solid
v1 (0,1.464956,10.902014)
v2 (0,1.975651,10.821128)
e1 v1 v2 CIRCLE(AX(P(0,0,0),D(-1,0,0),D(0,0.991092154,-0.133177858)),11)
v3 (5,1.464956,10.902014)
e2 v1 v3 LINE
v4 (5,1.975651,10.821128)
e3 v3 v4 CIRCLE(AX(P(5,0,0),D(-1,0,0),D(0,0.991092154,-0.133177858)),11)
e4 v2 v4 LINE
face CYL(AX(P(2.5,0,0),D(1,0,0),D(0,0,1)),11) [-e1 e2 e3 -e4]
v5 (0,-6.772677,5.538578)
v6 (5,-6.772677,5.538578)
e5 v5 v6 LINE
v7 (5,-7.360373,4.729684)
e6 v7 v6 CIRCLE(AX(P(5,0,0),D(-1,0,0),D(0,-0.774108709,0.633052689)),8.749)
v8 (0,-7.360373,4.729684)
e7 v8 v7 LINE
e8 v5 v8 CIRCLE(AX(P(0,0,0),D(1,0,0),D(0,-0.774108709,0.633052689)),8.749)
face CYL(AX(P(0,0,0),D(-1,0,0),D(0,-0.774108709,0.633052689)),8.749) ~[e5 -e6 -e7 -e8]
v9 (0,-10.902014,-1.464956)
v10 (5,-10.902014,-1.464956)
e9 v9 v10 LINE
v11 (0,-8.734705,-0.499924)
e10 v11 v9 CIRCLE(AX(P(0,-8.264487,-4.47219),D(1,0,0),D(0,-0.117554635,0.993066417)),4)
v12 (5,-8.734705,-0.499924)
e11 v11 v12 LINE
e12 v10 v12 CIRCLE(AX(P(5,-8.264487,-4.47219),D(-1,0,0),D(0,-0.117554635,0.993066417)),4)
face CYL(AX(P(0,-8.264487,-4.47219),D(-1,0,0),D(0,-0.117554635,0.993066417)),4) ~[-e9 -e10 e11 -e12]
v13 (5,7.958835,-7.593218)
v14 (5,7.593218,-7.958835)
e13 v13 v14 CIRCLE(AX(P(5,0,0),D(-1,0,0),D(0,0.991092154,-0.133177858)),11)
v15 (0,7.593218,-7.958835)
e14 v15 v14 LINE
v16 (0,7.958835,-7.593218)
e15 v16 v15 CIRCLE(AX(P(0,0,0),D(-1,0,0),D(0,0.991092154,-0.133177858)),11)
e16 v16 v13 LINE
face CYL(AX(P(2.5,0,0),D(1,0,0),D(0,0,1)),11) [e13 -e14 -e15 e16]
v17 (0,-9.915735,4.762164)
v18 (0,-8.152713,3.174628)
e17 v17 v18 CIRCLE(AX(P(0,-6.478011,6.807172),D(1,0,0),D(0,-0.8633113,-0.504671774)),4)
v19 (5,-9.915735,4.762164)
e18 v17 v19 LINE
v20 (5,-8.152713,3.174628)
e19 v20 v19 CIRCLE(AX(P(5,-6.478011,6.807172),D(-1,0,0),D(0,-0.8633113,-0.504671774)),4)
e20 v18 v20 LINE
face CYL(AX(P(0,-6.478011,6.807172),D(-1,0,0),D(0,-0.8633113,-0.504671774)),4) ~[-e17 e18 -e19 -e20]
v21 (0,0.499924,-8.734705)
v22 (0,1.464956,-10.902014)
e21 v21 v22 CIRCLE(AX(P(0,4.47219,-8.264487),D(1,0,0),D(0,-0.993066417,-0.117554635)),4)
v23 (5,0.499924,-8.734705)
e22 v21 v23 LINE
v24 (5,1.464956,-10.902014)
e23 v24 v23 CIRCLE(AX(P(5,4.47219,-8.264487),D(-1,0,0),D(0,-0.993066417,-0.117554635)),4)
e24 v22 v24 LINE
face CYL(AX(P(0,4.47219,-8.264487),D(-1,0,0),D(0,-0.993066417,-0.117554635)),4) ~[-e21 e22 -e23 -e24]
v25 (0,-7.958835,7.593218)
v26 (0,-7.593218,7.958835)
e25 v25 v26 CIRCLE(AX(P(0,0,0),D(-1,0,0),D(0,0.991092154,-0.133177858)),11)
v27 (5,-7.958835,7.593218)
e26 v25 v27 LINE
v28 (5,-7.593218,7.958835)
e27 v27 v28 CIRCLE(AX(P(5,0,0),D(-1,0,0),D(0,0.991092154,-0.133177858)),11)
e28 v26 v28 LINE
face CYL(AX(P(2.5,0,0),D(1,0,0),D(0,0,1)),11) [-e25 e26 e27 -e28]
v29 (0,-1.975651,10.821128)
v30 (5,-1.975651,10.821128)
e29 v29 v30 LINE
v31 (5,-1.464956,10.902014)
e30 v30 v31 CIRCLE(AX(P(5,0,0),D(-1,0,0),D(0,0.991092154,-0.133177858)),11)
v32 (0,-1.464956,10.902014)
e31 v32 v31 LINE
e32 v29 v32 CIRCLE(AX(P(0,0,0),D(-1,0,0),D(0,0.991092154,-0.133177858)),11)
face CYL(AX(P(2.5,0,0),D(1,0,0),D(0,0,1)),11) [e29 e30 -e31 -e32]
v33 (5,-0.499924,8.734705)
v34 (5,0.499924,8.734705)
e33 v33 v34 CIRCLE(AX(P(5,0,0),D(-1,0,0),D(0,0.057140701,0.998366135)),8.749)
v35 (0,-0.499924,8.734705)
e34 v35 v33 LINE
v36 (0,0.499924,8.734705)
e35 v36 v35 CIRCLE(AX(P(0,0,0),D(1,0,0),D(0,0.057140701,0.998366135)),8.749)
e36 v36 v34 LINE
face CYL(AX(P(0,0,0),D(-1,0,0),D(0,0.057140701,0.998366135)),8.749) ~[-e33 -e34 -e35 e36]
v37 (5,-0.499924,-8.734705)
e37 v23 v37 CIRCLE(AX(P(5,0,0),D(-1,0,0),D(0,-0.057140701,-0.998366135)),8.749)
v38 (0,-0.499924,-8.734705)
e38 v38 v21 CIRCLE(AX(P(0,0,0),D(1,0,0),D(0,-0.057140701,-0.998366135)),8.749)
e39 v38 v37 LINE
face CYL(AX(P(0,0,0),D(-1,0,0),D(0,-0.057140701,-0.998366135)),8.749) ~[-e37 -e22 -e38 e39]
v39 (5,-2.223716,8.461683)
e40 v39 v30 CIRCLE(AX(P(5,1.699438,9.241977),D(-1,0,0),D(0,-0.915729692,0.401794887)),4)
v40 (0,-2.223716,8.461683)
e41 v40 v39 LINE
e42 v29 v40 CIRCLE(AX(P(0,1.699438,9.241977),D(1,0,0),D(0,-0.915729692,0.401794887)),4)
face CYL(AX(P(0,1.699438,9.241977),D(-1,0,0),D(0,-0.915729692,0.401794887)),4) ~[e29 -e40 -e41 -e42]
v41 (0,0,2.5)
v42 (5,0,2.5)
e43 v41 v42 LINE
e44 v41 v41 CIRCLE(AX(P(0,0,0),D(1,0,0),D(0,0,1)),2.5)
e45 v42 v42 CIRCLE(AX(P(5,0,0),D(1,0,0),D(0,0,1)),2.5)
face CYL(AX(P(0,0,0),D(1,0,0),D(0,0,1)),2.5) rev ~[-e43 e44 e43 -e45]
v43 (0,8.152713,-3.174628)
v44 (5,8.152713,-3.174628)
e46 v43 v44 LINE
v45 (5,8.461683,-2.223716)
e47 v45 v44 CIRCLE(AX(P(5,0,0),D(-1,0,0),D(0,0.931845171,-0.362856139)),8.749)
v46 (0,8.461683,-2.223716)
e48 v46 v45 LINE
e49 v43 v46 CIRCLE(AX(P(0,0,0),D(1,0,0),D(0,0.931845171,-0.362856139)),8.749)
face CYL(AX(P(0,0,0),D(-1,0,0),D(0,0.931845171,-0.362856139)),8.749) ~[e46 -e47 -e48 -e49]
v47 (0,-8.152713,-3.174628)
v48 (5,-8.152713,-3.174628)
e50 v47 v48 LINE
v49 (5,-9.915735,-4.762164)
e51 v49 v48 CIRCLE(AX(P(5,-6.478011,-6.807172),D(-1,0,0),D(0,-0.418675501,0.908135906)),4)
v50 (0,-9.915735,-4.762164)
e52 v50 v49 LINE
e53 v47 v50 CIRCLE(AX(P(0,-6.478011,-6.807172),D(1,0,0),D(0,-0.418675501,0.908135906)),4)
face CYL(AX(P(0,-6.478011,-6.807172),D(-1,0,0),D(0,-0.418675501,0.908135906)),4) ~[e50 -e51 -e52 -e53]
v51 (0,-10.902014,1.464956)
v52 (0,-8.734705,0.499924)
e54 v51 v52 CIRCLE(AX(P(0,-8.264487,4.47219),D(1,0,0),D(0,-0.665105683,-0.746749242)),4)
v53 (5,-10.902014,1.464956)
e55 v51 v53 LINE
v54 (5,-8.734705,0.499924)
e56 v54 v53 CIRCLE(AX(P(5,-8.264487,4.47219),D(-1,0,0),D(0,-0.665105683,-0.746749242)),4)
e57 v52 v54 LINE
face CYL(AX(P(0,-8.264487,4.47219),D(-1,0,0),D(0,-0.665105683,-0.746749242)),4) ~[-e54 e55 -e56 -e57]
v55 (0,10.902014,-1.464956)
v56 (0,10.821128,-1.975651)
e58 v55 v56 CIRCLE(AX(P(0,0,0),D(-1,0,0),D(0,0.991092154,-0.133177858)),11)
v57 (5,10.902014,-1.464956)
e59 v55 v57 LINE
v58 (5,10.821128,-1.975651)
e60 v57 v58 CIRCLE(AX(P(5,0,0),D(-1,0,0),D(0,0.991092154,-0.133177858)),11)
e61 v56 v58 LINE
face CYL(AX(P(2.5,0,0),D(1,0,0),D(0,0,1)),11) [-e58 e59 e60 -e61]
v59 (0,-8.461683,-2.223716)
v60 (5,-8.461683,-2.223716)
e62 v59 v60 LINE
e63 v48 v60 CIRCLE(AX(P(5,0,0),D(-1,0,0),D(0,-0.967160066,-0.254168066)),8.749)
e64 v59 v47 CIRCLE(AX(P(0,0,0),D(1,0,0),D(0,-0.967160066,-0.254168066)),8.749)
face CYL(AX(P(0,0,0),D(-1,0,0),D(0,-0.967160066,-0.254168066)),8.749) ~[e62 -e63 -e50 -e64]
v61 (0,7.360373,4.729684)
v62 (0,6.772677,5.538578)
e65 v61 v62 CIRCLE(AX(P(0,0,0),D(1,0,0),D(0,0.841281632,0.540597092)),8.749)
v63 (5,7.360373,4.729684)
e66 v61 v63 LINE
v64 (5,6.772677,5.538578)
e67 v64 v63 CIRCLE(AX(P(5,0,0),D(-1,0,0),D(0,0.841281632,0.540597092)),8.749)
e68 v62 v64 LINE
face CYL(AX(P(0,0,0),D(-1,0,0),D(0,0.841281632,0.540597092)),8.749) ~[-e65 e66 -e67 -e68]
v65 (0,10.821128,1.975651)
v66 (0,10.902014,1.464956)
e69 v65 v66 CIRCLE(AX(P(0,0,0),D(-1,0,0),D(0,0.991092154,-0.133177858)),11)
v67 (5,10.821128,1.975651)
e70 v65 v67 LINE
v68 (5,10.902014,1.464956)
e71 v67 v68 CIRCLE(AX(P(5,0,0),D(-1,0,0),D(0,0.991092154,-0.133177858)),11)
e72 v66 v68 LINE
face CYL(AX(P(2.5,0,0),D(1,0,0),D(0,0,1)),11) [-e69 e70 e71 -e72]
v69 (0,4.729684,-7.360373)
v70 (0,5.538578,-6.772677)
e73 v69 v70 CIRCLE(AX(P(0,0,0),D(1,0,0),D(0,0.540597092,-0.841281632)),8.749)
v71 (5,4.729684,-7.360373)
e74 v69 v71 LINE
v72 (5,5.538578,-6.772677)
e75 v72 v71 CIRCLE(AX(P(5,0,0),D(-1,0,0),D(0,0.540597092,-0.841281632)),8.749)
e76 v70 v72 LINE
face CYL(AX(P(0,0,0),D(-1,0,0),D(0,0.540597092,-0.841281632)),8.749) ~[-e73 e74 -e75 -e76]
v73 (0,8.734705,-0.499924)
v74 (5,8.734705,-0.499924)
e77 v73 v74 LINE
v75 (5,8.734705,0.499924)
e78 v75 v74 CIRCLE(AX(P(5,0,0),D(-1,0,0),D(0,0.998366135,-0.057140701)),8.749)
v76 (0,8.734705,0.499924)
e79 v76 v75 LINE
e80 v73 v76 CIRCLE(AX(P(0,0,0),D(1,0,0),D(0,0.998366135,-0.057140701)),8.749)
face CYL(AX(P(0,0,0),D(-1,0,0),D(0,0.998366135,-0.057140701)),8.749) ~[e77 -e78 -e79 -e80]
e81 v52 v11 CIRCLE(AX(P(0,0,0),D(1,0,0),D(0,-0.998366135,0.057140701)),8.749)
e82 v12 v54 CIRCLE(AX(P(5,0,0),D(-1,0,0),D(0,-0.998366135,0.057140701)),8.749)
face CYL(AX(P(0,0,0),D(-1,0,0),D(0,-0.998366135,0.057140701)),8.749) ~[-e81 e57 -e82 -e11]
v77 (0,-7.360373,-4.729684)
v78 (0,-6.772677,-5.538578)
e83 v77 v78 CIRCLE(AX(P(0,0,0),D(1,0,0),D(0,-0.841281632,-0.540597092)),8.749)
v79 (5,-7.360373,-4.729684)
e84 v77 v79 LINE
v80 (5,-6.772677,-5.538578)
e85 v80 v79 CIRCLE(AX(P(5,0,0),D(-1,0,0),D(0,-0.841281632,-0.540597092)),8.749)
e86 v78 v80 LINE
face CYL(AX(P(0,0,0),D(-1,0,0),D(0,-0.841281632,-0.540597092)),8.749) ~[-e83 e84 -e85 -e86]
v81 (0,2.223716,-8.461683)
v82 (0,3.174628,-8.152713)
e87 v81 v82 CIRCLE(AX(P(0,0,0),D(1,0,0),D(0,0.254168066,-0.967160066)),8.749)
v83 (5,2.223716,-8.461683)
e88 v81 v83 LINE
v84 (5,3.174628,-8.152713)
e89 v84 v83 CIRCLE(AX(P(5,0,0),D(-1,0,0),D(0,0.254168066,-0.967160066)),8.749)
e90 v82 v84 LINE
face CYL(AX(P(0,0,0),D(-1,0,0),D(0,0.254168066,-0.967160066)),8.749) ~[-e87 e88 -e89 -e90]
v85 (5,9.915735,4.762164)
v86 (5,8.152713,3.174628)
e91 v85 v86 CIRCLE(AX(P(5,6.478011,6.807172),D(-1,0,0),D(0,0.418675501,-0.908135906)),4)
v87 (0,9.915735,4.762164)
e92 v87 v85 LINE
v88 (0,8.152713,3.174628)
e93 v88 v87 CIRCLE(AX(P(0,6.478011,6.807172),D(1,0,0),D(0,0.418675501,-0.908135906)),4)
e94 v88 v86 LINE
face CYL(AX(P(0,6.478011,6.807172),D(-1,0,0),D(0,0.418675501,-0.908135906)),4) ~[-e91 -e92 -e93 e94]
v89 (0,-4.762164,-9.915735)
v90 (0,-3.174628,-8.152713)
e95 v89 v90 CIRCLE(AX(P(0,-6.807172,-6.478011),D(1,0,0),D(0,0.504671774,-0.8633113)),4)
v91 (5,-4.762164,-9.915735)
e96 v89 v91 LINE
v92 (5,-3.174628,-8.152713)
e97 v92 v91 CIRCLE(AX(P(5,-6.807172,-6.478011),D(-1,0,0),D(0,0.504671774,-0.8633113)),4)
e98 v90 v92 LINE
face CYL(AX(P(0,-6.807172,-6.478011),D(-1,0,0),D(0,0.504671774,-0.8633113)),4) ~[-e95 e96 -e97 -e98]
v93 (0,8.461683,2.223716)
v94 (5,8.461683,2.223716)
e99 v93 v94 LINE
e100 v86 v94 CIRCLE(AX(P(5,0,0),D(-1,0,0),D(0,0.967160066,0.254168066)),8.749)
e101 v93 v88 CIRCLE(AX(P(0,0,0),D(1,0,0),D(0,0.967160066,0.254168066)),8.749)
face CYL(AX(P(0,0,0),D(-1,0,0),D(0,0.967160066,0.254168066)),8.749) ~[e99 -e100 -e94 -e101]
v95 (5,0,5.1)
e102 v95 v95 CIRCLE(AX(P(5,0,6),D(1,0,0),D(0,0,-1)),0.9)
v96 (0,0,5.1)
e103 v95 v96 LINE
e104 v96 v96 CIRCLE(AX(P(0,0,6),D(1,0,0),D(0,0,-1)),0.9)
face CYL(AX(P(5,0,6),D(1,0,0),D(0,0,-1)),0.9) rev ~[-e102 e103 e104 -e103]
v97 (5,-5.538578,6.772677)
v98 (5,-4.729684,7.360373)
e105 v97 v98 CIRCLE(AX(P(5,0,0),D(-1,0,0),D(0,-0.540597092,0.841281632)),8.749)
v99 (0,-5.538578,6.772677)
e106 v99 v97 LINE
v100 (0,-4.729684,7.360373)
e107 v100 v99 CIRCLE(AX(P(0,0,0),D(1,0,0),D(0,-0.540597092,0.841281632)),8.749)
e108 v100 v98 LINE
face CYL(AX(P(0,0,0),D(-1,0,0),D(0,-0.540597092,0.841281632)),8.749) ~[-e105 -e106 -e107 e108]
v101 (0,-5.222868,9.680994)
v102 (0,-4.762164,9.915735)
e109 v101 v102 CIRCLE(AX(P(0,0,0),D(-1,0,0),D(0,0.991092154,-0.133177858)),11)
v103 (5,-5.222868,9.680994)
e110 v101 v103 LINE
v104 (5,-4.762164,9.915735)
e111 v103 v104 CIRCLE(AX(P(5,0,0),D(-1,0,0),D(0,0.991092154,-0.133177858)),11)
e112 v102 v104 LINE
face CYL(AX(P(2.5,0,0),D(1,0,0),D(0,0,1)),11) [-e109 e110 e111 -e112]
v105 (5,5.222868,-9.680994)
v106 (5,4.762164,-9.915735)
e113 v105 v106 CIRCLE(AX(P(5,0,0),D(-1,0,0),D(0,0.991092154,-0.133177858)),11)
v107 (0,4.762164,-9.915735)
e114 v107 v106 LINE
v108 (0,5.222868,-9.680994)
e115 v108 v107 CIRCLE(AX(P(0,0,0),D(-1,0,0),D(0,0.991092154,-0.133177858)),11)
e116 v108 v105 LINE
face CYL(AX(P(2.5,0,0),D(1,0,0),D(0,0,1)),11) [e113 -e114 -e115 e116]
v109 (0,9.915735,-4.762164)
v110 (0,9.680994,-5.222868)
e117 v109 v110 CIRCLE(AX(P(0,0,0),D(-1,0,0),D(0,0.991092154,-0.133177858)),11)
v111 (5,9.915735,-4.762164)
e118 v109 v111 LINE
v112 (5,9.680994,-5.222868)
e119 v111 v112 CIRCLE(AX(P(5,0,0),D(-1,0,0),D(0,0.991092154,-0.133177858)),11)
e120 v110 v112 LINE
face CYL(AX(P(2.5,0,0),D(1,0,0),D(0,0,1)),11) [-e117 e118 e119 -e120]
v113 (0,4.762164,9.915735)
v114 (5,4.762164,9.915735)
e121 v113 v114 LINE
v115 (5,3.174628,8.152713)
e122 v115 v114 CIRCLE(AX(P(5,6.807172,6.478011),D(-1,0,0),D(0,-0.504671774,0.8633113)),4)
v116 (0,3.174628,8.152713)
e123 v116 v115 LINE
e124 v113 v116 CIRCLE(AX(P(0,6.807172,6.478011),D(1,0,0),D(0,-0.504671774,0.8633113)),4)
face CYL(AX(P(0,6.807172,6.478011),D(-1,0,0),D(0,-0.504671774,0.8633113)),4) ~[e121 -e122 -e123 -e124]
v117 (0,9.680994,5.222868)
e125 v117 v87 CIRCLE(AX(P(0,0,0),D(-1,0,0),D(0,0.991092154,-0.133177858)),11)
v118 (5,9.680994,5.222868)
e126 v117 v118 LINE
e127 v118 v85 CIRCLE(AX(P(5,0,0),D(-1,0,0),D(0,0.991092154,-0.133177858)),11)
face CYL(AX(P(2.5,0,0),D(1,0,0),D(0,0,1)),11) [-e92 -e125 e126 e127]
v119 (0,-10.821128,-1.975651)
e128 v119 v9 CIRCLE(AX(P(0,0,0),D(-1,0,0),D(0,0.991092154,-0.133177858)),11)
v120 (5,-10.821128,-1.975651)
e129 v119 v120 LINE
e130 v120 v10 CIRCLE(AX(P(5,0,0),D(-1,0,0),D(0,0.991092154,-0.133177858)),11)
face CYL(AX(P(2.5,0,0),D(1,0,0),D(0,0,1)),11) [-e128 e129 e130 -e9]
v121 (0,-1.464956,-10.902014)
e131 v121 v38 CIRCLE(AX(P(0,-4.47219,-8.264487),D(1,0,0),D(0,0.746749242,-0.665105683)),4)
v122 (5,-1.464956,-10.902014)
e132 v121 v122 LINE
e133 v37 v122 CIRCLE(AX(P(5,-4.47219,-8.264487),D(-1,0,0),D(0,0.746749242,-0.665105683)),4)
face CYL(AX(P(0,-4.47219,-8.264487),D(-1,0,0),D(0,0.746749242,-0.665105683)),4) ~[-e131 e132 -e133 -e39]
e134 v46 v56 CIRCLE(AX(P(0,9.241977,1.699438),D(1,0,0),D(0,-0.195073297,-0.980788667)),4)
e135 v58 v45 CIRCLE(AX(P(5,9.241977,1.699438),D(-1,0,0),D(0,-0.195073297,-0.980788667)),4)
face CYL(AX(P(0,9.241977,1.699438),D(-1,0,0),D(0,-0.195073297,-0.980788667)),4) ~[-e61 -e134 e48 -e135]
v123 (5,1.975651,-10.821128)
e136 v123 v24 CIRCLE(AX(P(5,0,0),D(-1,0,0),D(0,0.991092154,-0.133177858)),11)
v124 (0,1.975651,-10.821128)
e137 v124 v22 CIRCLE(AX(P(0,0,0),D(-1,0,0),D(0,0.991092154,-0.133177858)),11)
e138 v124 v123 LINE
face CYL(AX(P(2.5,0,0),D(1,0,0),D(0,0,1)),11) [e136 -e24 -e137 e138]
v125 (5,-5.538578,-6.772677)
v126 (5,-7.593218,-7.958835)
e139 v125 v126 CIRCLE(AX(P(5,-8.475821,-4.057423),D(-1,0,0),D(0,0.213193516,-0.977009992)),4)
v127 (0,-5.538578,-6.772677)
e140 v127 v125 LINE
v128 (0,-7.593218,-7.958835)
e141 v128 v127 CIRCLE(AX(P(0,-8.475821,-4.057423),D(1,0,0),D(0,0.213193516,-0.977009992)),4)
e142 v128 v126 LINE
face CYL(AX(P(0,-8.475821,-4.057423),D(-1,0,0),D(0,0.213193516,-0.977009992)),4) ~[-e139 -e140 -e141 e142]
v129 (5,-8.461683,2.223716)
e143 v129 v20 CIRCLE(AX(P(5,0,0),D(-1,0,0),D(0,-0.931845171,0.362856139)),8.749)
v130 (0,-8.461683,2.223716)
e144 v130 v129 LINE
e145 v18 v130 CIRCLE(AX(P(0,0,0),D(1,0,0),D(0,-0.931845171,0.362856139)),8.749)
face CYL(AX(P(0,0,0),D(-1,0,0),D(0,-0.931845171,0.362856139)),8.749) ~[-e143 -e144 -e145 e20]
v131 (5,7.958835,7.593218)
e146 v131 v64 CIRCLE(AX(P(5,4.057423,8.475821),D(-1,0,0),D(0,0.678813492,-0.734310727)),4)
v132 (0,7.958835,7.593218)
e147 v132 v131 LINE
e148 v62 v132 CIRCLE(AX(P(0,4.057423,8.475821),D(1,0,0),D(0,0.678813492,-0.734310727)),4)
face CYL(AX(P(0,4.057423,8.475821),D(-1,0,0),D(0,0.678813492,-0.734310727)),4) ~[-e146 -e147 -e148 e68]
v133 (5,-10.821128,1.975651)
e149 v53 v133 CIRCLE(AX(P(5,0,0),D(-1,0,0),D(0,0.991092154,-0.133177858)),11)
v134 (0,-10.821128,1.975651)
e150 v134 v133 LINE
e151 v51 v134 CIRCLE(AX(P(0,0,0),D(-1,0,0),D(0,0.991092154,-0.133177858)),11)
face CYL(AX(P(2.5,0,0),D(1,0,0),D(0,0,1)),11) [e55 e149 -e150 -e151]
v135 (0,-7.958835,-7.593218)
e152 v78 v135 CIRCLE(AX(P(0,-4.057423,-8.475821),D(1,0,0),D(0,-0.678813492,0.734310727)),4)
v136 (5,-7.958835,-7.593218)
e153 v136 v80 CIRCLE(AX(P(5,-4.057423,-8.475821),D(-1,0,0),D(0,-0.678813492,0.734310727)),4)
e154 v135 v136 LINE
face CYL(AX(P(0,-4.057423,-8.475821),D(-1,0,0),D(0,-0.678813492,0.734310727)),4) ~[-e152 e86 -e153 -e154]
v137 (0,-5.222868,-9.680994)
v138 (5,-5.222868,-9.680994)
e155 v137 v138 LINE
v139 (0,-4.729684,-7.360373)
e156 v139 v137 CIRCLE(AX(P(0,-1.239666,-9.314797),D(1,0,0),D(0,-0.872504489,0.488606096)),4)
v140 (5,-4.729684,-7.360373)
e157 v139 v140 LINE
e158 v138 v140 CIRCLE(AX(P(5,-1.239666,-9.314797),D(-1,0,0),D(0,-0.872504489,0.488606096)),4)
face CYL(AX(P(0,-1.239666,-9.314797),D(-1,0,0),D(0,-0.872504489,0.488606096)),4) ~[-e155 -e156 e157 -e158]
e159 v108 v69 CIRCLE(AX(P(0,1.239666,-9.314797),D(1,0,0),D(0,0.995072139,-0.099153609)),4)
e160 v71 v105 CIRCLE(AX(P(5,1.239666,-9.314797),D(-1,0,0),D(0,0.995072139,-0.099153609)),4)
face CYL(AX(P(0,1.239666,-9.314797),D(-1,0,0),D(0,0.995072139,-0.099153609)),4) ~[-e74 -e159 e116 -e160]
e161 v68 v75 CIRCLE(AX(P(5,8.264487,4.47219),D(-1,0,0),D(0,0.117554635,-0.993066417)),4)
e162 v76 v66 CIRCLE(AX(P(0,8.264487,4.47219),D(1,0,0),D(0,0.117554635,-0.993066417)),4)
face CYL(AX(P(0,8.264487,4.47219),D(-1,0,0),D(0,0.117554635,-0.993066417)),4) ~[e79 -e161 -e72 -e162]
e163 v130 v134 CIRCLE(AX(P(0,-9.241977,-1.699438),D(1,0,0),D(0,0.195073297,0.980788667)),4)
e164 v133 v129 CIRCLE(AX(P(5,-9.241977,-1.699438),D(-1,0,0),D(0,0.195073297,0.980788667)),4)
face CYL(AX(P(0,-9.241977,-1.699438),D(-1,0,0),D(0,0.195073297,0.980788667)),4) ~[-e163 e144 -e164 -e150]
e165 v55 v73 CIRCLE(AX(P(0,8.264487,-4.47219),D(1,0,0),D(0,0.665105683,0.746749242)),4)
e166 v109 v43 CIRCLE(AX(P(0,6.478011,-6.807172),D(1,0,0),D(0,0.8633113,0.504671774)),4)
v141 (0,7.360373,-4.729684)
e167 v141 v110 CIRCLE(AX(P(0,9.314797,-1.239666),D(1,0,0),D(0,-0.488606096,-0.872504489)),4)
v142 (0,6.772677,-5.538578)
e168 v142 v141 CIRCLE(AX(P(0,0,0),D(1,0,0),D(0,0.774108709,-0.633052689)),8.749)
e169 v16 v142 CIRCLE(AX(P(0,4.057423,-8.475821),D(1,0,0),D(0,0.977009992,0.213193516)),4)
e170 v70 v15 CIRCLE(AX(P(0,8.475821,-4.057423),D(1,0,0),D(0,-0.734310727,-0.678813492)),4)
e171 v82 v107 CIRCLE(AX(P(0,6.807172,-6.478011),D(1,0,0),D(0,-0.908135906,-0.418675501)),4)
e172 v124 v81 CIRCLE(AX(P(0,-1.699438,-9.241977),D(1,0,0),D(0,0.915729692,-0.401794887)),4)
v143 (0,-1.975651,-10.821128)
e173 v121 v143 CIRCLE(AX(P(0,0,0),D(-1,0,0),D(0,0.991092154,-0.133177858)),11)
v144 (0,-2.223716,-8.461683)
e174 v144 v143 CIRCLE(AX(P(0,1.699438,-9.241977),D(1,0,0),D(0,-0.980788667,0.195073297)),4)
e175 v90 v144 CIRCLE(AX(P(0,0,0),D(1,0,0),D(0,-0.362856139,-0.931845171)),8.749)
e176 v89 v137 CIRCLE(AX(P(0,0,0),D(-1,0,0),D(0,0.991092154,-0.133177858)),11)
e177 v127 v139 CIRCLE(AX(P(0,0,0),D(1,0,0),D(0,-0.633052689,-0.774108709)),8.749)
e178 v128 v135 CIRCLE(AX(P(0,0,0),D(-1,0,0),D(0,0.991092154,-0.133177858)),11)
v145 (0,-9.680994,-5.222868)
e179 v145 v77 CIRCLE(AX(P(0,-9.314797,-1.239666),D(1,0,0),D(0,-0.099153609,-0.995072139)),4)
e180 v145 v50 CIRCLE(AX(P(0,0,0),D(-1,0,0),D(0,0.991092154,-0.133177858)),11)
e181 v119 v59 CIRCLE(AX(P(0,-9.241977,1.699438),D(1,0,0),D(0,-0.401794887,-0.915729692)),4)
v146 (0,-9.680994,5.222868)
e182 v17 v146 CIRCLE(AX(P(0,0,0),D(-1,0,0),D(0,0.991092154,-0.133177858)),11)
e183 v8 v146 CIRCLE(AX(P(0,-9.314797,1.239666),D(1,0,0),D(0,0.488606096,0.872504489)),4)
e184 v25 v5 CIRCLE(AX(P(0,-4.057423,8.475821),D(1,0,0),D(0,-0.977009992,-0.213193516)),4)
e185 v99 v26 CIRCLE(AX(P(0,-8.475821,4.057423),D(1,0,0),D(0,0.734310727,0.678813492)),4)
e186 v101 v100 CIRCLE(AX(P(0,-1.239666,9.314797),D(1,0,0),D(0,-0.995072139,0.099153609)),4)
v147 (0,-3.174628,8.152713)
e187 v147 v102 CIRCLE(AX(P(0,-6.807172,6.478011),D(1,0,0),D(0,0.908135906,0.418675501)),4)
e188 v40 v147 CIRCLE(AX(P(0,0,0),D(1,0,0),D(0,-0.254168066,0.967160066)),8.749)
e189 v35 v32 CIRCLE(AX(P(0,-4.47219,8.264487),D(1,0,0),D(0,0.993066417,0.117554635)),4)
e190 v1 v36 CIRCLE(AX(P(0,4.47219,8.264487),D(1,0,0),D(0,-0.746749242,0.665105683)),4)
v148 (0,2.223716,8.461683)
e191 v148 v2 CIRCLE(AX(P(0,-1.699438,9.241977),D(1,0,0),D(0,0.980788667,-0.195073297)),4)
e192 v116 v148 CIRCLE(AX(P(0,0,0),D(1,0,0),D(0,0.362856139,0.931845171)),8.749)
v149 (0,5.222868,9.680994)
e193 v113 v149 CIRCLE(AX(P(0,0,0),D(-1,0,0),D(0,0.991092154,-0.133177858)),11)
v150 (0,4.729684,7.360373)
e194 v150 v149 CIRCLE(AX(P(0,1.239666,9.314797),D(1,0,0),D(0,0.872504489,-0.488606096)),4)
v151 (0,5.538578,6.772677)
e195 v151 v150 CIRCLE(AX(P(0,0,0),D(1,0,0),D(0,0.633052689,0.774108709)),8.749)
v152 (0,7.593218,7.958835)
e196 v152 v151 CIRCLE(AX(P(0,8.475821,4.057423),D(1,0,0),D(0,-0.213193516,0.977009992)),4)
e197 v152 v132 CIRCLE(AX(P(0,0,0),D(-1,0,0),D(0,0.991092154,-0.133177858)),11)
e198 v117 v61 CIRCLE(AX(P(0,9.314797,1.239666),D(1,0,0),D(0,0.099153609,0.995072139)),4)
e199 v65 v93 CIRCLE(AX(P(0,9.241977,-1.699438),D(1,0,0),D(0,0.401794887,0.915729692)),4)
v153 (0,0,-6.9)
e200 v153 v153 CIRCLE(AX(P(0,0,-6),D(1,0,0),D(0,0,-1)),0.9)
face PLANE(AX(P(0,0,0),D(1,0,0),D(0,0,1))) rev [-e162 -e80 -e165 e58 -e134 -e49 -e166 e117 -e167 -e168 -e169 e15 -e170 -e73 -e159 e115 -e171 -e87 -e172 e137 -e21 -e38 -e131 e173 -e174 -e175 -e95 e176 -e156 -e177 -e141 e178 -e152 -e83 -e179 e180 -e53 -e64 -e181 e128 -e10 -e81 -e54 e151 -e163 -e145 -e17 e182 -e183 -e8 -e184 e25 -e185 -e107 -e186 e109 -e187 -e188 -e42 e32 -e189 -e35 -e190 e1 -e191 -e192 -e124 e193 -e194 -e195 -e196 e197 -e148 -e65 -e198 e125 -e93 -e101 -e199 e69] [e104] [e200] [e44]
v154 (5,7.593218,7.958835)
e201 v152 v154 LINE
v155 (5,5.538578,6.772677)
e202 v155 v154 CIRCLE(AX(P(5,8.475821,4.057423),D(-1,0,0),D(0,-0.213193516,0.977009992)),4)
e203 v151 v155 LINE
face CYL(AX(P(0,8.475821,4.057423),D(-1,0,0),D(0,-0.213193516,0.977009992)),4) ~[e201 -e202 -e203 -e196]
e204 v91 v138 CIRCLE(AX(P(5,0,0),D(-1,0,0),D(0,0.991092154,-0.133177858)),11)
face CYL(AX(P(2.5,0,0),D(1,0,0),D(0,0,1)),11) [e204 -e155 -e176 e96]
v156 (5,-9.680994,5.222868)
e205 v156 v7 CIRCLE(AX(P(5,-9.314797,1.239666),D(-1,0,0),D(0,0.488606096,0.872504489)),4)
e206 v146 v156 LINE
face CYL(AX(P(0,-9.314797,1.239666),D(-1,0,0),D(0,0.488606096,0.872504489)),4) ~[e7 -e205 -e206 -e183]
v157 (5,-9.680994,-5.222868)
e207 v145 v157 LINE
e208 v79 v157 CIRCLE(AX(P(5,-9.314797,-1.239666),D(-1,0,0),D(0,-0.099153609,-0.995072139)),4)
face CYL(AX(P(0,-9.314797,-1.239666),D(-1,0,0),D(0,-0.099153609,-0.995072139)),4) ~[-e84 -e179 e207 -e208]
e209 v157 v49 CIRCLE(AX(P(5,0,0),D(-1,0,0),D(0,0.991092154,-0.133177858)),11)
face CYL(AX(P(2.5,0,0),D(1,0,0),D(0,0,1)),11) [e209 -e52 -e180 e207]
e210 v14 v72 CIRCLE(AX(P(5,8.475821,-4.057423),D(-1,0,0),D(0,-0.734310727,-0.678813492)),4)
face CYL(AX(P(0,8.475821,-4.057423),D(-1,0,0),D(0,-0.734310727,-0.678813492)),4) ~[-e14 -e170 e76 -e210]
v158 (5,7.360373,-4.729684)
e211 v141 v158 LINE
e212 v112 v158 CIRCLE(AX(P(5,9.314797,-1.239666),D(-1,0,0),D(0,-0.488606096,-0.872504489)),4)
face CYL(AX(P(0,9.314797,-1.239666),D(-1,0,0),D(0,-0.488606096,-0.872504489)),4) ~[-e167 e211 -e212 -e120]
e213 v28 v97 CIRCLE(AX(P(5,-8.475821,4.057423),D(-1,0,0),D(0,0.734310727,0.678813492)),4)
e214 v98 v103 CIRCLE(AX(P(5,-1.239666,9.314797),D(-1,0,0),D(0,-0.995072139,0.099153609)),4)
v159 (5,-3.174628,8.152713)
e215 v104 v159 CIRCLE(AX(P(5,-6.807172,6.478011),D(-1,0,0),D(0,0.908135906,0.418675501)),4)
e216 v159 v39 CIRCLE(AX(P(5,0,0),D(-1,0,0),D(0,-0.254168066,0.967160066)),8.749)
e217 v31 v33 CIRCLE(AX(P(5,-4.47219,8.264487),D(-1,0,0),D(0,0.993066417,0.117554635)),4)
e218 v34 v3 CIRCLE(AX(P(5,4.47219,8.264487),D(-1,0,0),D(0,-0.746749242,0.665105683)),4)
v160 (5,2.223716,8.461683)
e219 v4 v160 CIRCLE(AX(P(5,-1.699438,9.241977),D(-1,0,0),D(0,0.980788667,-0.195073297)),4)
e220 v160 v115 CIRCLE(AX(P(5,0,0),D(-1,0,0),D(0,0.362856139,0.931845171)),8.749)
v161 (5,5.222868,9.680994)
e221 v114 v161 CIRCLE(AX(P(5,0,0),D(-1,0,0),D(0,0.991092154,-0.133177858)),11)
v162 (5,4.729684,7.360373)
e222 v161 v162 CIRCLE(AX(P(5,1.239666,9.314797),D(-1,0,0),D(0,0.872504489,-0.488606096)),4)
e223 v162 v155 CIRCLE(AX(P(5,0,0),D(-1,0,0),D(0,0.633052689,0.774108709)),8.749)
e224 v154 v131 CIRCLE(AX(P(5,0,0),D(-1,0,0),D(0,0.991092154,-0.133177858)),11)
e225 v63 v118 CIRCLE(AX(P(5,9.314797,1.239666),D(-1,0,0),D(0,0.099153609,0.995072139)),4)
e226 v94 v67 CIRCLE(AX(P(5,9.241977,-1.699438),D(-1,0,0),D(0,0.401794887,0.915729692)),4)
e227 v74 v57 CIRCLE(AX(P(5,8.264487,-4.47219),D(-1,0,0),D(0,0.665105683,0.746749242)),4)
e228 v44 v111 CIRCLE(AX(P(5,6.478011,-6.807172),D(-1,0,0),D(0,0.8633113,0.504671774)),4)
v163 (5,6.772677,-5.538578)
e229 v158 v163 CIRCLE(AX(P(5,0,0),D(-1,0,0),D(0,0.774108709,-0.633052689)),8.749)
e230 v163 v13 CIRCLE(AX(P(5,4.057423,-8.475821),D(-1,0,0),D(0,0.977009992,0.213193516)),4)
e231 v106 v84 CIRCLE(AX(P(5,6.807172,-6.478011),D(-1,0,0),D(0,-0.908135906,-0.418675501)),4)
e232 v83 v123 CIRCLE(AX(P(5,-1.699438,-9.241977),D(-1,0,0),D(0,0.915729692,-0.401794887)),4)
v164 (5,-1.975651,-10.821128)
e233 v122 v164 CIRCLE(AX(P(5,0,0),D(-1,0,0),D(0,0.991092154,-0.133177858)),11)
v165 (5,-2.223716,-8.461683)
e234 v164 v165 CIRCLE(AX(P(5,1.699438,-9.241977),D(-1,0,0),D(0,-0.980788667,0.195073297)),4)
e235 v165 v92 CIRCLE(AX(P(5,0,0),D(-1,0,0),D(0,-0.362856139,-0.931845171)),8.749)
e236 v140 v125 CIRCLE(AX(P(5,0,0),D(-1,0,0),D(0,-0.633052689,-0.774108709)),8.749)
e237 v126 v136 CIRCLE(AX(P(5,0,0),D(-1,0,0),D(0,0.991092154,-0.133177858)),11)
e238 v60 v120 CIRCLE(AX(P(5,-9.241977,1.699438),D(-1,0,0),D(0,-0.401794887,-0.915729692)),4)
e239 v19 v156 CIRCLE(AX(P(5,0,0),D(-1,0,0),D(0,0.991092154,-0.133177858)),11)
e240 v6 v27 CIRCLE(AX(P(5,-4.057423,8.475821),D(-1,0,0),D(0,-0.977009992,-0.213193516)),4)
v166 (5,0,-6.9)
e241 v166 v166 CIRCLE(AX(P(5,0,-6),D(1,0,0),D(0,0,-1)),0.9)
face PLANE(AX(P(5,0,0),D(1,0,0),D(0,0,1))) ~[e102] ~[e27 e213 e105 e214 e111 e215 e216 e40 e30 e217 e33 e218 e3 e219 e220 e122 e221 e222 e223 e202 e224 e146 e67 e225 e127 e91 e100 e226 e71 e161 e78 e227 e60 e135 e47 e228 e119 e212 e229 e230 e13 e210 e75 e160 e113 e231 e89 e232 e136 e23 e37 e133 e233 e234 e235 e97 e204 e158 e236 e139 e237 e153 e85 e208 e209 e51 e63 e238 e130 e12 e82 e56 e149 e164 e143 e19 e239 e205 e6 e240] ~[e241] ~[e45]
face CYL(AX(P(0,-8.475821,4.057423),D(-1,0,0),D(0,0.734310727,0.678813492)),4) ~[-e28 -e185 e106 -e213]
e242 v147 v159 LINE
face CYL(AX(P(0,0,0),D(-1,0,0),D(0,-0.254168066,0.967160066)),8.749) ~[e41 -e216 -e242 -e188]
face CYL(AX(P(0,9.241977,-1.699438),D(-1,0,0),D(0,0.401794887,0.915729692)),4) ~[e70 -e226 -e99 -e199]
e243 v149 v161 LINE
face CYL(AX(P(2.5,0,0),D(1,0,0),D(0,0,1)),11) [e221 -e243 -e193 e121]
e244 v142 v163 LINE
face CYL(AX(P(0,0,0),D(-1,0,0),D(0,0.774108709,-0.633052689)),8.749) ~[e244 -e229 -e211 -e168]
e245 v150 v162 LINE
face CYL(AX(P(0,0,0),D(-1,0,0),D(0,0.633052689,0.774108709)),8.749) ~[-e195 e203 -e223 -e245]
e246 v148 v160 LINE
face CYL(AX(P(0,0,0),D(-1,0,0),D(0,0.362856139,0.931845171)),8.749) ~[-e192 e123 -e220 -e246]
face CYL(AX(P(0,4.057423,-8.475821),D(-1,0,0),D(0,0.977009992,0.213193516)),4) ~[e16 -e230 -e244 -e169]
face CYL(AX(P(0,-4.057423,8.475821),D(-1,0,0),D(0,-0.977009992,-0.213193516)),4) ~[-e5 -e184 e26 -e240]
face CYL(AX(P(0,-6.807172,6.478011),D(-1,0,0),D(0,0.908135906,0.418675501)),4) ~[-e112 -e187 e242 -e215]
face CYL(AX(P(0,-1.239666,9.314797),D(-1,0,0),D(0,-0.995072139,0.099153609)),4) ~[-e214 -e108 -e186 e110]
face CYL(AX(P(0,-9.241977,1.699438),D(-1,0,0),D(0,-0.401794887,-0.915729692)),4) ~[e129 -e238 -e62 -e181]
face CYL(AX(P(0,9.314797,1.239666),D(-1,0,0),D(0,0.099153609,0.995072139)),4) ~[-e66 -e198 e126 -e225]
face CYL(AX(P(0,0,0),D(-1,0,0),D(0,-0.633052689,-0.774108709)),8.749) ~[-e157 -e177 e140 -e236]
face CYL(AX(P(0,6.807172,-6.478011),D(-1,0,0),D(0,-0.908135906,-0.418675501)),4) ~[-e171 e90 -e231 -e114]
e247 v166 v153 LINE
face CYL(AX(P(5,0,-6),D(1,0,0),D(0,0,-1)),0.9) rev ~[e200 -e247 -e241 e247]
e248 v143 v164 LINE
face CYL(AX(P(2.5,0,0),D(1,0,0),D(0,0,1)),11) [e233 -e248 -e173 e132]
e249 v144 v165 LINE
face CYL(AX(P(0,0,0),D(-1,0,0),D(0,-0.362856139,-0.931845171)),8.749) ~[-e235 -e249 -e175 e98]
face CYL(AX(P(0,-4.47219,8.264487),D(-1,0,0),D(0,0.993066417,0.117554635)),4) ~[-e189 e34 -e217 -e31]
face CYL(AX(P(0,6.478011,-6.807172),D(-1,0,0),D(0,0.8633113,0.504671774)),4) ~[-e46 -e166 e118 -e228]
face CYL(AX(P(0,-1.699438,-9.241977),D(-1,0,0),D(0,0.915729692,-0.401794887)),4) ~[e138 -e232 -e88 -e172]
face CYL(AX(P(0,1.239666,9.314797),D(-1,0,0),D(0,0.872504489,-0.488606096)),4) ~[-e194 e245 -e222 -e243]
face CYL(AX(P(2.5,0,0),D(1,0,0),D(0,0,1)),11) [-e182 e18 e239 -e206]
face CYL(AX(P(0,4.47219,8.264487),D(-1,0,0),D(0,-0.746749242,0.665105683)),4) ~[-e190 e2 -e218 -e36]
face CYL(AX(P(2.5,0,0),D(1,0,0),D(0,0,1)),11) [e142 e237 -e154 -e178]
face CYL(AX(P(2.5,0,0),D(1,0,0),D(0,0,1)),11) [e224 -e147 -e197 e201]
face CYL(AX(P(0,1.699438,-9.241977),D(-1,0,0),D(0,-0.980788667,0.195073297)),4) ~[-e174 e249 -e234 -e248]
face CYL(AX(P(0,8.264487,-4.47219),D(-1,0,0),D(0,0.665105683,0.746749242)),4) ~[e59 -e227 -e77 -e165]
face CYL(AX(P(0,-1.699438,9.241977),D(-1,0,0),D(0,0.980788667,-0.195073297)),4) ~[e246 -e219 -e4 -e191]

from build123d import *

# Parameters (mm, degrees)
BASPROSKE_W        = 5
BASPROSKE_H        = 11
TOOTHCUT_DEPTH     = 17.340134638
TEETHCUTS_COUNT    = 20
TEETHCUTS_ANGLE    = 342
BORSKE_R           = 2.5
BORE_DEPTH         = 50.0000508
SKETCH1_R          = 0.9
CUT_EXTRUDE1_DEPTH = 10


with BuildPart() as part:
    # BasProSke → Base-Revolve (revolve)
    with BuildSketch(Plane(origin=(0, 0, 0), x_dir=(1, 0, 0), z_dir=(0, 1, 0)), mode=Mode.PRIVATE) as base_revolve_sk:
        with Locations((2.5, 5.5)):
            Rectangle(BASPROSKE_W, BASPROSKE_H)
    revolve(base_revolve_sk.sketch.rotate(Axis((-10, 0, 0), (1, 0, 0)), 180), axis=Axis((-10, 0, 0), (1, 0, 0)))

    # TooCutSke → ToothCut (cut, through all)
    with BuildSketch(Plane(origin=(0, 0, 0), x_dir=(0, 0, -1), z_dir=(1, 0, 0))):
        with BuildLine():
            ThreePointArc((0.499924007, 8.734705318), (0, 8.749), (-0.499924007, 8.734705318))
            ThreePointArc((-0.499924007, 8.734705318), (-0.824302243, 9.905497836), (-1.485192705, 10.924909509))
            ThreePointArc((-1.485192705, 10.924909509), (0, 11.0254), (1.485192705, 10.924909509))
            ThreePointArc((1.485192705, 10.924909509), (0.824302243, 9.905497836), (0.499924007, 8.734705318))
        make_face()
    toothcut = extrude(amount=TOOTHCUT_DEPTH, mode=Mode.SUBTRACT)

    # TeethCuts: ToothCut ×20 about axis
    teethcuts_axis = Axis((-10, 0, 0), (1, 0, 0))
    for i in range(1, TEETHCUTS_COUNT):
        add(toothcut.rotate(teethcuts_axis, i * TEETHCUTS_ANGLE / (TEETHCUTS_COUNT - 1)), mode=Mode.SUBTRACT)

    # BorSke → Bore (cut, symmetric)
    with BuildSketch(Plane(origin=(0, 0, 0), x_dir=(0, 0, -1), z_dir=(1, 0, 0))):
        with Locations(Location((0, 0, 0), (0, 0, 180))):
            Circle(BORSKE_R)
    extrude(amount=BORE_DEPTH, both=True, mode=Mode.SUBTRACT)

    # Sketch1 → Cut-Extrude1 (cut)
    with BuildSketch(Plane(origin=(5, 0, 0), x_dir=(0, 0, -1), z_dir=(1, 0, 0))):
        with Locations((6, 0)):
            Circle(SKETCH1_R)
        with Locations((-6, 0)):
            Circle(SKETCH1_R)
    extrude(amount=-CUT_EXTRUDE1_DEPTH, mode=Mode.SUBTRACT)


solid = part.part
